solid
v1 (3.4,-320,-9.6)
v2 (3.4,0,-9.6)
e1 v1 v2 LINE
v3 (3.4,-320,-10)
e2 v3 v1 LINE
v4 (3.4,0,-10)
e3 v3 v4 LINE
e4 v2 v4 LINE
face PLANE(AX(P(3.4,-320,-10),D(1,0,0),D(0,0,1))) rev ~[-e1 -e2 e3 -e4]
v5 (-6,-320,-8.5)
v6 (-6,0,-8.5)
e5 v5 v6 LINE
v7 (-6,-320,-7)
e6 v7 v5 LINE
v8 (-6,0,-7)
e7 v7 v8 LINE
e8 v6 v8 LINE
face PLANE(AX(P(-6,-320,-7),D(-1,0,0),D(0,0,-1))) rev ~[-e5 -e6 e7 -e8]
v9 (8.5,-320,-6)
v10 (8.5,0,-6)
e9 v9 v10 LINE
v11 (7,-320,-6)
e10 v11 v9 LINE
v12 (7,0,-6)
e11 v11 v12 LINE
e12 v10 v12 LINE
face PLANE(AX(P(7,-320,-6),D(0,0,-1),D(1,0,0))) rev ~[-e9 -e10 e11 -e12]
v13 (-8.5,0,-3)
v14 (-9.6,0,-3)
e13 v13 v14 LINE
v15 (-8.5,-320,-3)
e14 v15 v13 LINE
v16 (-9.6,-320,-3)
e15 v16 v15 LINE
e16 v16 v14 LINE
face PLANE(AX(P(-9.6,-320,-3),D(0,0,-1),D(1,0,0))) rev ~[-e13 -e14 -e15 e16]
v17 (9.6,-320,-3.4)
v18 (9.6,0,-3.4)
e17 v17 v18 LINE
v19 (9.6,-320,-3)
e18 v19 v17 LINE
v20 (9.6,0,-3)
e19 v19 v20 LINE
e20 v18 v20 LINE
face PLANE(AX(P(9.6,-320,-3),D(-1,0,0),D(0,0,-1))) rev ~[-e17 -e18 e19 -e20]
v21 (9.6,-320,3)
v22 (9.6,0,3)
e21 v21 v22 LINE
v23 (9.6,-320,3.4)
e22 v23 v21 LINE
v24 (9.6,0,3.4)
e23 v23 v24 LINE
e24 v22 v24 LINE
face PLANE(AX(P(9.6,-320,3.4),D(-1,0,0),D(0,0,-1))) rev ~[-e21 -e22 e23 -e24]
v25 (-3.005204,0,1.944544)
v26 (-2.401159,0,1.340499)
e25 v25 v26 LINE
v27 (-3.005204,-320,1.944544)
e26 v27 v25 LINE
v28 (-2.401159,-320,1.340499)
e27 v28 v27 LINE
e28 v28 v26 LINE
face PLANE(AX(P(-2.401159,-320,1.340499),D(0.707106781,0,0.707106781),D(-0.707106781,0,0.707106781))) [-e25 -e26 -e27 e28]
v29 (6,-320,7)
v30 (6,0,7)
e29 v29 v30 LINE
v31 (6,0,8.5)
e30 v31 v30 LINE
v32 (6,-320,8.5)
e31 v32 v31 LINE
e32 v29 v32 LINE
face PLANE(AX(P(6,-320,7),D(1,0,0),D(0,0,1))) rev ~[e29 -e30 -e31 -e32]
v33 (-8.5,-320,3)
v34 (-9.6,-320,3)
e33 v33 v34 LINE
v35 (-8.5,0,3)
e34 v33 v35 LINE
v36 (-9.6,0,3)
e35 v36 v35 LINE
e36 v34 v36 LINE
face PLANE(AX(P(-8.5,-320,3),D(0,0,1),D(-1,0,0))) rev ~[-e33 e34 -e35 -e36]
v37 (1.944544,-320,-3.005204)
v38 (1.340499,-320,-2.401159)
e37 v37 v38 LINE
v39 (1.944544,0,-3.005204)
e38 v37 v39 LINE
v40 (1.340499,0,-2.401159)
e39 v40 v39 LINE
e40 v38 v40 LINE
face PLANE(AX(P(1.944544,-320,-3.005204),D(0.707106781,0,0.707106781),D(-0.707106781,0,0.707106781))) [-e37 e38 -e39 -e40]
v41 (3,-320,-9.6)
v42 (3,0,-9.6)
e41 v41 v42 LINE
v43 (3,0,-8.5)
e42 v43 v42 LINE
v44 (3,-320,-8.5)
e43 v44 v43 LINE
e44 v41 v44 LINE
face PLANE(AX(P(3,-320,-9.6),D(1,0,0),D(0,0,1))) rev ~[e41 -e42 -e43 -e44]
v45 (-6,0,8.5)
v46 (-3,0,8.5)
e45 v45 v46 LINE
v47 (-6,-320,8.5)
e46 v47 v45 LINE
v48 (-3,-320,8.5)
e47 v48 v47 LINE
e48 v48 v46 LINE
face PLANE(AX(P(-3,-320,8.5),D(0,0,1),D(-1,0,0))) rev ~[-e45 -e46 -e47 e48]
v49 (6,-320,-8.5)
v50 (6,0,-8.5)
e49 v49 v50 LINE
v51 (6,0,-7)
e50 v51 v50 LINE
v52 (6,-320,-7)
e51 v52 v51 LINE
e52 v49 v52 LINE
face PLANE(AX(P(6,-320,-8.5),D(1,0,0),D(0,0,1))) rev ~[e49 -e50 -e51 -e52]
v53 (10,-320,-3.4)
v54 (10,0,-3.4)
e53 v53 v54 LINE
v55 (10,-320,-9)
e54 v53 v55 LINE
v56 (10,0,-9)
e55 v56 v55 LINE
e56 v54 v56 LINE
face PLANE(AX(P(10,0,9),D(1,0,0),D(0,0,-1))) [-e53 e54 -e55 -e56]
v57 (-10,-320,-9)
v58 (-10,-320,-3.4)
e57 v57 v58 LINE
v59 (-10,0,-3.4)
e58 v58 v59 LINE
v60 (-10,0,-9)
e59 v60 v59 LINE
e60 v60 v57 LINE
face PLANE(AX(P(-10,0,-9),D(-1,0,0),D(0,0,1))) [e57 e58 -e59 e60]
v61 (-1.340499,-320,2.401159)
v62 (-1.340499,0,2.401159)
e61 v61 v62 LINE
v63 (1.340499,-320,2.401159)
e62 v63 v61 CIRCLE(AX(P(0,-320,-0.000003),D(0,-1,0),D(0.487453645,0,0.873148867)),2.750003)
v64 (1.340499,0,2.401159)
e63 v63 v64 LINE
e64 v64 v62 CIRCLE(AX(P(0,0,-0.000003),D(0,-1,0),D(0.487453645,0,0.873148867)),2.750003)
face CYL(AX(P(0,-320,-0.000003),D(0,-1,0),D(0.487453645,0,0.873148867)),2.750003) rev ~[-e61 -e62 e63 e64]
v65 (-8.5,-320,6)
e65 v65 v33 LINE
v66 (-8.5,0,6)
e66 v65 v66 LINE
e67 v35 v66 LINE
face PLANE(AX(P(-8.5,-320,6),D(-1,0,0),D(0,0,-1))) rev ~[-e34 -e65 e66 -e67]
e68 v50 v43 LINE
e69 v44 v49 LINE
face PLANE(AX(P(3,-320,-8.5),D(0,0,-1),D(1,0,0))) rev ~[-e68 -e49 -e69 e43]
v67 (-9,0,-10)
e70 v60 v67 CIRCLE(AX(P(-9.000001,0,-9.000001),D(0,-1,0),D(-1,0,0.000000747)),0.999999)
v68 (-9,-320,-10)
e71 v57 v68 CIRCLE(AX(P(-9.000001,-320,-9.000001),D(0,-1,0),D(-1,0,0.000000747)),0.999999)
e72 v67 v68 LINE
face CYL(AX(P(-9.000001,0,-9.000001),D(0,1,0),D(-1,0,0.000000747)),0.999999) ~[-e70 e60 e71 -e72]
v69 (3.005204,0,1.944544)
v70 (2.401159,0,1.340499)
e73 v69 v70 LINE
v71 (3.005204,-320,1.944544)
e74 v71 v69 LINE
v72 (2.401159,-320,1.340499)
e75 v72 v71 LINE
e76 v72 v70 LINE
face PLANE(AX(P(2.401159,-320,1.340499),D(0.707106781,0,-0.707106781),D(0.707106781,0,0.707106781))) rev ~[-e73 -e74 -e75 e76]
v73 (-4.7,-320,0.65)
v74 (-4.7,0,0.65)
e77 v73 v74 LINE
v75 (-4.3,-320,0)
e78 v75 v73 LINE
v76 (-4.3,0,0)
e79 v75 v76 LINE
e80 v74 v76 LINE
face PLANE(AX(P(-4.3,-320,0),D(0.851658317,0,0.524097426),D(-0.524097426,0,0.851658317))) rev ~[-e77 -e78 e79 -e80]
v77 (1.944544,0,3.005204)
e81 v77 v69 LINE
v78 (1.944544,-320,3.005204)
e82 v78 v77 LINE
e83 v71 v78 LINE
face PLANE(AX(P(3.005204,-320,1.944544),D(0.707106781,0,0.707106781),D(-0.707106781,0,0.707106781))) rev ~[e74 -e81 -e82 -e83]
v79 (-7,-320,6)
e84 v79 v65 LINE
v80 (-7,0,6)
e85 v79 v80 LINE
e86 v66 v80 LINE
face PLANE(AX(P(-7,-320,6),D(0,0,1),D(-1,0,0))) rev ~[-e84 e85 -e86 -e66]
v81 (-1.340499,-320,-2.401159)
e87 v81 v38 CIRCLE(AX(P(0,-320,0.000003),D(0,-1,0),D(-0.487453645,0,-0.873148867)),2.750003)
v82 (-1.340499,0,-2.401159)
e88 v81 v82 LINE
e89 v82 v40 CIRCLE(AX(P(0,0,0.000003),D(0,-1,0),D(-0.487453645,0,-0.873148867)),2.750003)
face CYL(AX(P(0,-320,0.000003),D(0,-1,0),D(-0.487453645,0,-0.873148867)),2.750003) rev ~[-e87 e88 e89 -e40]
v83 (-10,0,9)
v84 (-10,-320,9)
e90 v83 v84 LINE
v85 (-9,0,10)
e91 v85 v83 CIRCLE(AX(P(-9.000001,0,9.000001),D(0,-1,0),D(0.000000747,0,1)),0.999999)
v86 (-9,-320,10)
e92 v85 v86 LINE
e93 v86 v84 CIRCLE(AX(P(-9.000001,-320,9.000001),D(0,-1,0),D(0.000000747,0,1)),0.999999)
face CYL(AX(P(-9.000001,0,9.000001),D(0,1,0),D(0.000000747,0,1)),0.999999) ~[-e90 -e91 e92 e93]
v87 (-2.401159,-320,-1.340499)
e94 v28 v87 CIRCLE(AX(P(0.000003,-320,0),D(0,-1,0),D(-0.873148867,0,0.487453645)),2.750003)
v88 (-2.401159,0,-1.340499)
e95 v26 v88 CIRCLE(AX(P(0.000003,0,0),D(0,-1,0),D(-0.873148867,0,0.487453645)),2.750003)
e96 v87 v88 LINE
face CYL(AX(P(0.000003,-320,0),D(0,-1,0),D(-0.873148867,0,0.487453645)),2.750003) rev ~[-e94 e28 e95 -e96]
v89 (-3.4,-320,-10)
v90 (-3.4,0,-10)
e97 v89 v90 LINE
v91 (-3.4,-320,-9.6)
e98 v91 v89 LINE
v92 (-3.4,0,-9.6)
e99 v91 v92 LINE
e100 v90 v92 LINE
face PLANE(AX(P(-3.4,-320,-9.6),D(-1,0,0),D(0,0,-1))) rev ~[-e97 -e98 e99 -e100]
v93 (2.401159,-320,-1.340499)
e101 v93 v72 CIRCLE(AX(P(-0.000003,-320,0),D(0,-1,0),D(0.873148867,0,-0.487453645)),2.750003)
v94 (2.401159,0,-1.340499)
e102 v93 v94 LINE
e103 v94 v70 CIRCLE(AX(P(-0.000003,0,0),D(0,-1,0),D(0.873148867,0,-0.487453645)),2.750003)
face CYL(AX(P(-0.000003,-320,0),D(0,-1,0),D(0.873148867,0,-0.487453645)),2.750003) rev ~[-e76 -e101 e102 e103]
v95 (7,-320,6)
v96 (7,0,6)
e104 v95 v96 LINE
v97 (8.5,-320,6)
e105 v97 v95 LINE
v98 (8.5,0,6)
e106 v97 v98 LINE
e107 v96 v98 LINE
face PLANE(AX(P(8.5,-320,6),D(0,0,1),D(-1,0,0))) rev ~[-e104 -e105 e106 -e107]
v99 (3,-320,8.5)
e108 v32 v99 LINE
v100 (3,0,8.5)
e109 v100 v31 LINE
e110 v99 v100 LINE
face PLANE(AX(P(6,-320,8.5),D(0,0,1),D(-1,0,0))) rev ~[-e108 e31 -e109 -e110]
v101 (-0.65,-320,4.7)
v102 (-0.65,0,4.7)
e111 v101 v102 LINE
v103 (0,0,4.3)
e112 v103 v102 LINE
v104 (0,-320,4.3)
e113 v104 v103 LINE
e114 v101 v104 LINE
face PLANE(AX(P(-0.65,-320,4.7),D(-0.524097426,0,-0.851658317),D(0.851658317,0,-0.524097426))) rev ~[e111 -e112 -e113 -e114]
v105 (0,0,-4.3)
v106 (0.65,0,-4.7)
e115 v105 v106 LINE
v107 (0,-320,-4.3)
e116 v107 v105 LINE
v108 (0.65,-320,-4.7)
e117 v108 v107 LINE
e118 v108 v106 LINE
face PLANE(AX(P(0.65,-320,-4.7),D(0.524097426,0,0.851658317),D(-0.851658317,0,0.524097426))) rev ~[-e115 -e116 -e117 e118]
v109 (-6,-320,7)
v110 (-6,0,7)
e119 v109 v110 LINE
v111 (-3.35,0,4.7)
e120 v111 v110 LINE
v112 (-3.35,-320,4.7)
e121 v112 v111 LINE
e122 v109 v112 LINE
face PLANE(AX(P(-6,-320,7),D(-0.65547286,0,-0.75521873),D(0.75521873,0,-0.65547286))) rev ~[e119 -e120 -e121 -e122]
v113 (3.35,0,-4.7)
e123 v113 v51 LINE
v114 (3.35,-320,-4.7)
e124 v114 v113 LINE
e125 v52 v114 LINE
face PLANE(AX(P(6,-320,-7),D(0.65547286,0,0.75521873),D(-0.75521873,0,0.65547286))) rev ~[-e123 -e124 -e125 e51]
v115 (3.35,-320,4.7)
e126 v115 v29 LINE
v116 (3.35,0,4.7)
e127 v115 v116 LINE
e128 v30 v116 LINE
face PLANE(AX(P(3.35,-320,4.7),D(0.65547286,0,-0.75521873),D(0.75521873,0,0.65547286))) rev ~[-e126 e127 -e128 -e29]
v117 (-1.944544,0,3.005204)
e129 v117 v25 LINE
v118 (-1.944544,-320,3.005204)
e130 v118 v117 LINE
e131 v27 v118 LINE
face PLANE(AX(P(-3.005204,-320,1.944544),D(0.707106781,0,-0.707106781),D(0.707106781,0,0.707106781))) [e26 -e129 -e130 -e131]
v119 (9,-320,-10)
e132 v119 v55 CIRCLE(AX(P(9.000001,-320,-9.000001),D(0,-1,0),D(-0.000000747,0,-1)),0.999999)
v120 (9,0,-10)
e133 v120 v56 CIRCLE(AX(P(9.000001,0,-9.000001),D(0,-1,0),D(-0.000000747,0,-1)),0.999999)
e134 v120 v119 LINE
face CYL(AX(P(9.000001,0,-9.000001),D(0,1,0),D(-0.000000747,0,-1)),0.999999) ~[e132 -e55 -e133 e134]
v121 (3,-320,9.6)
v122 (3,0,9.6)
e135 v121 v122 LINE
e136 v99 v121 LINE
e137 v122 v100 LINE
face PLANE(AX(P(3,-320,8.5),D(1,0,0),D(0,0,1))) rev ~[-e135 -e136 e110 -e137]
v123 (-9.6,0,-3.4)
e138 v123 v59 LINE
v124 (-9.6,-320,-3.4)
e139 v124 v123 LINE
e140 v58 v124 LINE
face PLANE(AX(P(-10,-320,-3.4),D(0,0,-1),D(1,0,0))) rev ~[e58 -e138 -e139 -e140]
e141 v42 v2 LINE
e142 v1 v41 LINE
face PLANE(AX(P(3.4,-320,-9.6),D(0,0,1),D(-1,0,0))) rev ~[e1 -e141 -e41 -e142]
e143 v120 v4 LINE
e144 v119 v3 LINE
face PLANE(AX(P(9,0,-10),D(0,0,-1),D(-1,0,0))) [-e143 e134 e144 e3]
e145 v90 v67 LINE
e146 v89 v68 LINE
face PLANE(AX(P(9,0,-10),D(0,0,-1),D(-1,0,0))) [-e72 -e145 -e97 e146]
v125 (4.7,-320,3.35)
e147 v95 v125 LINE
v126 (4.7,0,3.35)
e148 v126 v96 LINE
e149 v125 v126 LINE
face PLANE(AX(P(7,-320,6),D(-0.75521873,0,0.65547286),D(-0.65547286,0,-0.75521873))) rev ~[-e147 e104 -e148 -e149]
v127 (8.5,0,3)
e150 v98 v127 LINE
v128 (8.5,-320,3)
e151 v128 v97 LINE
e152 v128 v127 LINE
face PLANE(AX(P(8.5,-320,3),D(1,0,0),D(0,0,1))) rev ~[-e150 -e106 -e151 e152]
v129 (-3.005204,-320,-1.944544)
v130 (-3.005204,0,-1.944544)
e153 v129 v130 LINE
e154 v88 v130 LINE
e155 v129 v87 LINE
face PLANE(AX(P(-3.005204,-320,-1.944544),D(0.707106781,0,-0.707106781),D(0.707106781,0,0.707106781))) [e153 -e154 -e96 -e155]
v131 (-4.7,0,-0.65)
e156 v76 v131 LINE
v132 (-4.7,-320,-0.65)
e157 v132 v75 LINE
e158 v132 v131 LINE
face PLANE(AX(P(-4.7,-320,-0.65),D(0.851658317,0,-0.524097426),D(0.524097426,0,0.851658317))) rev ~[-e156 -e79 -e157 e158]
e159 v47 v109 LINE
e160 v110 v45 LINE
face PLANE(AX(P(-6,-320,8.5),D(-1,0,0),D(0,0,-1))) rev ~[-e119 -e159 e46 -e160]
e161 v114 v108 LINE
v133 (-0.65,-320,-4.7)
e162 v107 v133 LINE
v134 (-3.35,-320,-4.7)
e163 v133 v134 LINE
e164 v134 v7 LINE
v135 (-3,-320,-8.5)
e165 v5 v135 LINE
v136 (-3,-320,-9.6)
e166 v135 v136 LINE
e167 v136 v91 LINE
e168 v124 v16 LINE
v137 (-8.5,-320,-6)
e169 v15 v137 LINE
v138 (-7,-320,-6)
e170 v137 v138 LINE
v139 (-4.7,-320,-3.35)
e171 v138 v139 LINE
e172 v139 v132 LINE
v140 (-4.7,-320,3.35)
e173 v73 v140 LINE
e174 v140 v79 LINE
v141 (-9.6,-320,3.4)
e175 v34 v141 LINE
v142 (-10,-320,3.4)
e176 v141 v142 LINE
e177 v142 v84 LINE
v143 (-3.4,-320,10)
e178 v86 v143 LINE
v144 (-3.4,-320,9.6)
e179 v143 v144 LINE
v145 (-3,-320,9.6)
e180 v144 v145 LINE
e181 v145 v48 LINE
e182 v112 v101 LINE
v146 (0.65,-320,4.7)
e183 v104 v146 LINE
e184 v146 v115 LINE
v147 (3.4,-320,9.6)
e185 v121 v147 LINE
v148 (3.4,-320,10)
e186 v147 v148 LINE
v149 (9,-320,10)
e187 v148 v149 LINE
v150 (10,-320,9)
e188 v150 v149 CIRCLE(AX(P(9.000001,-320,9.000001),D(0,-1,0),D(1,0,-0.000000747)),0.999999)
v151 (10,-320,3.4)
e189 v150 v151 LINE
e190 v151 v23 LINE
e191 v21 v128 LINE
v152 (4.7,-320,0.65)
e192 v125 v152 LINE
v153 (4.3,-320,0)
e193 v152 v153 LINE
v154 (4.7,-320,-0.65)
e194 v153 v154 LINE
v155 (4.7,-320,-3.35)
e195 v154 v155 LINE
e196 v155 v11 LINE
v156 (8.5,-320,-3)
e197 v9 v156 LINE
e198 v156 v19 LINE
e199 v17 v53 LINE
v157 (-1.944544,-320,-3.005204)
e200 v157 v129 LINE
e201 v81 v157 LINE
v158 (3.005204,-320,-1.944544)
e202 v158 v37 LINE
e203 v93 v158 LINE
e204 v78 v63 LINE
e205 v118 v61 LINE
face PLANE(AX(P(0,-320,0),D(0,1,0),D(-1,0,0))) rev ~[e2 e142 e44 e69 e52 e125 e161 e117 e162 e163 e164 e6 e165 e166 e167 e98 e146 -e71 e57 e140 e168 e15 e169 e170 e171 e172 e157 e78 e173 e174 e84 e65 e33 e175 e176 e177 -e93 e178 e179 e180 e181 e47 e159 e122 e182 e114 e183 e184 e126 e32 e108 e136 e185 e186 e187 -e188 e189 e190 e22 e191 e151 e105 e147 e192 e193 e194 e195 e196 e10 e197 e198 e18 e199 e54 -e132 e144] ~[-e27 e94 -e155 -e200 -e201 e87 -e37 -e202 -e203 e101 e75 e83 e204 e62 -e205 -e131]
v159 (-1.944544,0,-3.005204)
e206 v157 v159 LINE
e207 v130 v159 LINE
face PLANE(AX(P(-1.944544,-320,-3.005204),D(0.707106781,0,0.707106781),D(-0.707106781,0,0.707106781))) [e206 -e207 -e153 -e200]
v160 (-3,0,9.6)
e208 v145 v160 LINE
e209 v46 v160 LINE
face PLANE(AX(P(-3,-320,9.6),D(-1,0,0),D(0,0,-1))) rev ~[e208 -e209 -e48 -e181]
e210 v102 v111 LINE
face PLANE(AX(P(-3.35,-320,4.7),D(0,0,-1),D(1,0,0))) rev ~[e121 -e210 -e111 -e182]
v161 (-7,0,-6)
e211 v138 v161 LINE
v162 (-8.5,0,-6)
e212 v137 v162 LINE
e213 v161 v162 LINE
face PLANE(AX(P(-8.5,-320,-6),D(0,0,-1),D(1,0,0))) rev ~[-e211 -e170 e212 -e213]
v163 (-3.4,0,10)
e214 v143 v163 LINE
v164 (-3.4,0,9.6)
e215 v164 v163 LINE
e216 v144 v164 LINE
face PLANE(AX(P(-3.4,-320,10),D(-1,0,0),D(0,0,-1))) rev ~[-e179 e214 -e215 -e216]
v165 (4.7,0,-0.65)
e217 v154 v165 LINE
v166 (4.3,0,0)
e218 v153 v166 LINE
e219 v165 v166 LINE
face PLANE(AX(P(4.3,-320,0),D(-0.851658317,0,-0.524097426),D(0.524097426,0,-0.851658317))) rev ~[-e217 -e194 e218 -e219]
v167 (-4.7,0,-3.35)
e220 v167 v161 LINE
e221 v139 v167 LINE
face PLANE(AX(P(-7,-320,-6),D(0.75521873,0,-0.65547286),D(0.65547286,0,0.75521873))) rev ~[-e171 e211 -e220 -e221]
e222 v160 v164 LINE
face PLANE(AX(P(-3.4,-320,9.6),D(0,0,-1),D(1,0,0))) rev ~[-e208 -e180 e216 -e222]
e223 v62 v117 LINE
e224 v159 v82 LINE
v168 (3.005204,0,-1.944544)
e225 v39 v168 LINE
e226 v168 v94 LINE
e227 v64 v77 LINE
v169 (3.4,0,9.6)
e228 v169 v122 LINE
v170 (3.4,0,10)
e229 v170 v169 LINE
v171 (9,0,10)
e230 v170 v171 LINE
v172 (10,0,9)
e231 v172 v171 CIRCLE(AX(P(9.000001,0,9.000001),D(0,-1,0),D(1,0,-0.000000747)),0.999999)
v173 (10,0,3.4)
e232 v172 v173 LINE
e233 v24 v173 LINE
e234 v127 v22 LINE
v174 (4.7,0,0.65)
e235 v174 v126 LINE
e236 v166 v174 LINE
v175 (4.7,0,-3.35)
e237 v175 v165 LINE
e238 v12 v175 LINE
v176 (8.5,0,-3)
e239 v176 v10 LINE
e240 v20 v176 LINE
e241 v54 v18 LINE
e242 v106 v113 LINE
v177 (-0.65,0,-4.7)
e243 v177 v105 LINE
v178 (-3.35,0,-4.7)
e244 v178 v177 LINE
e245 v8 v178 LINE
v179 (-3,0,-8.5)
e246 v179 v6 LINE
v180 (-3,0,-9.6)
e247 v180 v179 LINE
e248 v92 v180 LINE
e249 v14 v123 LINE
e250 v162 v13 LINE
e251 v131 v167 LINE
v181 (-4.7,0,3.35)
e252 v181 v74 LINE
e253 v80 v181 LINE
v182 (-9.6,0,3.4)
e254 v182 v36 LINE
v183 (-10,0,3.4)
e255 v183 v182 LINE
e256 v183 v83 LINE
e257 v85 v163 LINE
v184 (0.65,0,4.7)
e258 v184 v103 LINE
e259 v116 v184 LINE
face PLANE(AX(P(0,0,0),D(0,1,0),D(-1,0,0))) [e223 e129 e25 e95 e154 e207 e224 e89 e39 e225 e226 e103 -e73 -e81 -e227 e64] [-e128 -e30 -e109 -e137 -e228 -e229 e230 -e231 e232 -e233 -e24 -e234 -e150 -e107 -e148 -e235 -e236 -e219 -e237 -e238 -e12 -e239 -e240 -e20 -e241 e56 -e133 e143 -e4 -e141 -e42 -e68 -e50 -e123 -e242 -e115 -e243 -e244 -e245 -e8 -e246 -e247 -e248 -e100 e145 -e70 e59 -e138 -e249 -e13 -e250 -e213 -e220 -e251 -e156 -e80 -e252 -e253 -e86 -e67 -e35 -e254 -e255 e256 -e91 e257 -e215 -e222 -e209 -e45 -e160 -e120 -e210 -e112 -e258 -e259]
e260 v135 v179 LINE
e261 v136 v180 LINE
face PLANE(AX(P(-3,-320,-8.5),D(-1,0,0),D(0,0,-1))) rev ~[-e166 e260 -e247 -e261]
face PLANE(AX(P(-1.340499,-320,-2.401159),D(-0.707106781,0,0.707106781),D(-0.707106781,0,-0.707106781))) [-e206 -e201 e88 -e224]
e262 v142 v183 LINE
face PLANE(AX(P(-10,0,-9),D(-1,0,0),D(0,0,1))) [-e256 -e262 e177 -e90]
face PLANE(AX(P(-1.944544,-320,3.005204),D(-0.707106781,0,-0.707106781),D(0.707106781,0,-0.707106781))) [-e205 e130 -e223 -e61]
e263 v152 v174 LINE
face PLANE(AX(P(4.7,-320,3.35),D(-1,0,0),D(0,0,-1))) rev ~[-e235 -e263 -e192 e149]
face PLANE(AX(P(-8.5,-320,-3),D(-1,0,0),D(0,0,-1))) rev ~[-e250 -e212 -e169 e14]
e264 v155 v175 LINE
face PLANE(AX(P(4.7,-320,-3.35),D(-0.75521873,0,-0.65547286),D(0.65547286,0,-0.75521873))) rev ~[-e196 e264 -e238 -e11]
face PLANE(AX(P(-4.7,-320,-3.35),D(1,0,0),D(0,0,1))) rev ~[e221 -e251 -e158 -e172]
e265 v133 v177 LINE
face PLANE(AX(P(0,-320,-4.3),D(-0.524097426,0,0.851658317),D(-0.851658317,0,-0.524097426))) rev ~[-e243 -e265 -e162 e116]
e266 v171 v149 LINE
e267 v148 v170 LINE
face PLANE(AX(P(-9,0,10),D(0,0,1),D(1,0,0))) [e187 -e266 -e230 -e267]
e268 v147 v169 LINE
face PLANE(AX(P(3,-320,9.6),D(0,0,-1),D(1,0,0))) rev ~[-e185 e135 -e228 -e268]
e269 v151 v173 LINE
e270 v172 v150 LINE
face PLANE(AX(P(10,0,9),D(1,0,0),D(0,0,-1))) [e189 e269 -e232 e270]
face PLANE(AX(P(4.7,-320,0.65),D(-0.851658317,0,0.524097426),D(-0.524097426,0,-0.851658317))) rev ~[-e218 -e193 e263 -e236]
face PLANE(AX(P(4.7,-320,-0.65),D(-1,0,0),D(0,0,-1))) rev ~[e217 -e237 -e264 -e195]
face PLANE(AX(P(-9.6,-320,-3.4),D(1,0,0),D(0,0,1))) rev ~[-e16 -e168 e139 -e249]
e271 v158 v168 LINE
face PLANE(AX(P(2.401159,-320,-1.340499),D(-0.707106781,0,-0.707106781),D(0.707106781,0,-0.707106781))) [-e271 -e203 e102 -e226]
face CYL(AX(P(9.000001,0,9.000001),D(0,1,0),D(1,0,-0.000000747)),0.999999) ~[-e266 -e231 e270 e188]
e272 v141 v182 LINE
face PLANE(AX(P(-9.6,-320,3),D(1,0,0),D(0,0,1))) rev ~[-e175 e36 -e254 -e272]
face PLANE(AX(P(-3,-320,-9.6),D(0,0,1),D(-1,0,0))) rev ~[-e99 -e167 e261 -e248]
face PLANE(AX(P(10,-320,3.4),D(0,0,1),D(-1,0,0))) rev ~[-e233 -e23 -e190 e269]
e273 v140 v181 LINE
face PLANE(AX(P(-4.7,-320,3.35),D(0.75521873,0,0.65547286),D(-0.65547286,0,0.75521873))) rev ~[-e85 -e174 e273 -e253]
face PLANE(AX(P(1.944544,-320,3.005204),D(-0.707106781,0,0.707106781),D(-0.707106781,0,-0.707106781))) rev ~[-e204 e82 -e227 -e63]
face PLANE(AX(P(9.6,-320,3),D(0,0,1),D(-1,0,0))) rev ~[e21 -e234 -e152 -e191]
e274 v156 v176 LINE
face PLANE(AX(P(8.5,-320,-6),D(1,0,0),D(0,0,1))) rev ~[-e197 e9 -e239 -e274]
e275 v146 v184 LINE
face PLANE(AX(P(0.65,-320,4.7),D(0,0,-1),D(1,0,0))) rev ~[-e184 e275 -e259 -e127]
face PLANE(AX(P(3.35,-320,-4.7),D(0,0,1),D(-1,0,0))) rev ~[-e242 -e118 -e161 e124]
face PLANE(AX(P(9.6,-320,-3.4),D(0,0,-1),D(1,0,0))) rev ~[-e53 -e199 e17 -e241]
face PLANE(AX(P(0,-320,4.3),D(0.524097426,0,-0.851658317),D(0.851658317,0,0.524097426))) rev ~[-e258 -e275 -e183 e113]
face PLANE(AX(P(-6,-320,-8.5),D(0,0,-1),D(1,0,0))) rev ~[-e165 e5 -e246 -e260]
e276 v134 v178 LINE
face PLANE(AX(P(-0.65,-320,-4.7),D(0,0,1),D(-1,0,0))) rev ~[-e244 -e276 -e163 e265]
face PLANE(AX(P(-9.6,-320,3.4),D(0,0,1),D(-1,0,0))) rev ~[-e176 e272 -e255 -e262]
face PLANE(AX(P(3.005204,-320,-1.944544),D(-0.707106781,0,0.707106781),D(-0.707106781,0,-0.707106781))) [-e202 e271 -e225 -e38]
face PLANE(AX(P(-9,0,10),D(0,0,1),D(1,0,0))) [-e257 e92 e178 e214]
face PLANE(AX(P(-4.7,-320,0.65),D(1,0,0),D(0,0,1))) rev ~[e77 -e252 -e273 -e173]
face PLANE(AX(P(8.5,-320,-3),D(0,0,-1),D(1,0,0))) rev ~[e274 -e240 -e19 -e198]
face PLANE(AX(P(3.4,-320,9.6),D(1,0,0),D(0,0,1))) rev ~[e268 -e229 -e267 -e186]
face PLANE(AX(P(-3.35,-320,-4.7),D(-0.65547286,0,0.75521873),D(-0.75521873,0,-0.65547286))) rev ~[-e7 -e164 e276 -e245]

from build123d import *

# Parameters (mm, degrees)
PAD_DEPTH          = 320
POCKET_DEPTH       = 380
POLARPATTERN_COUNT = 4
POCKET001_DEPTH    = 380


with BuildPart() as part:
    # Sketch → Pad (new body)
    with BuildSketch(Plane.XZ):
        with BuildLine():
            Line((-9, 10), (9, 10))
            ThreePointArc((10, 9), (9.707107, 9.707107), (9, 10))
            Line((10, 9), (10, -9))
            ThreePointArc((9, -10), (9.707107, -9.707107), (10, -9))
            Line((9, -10), (-9, -10))
            ThreePointArc((-10, -9), (-9.707107, -9.707107), (-9, -10))
            Line((-10, -9), (-10, 9))
            ThreePointArc((-9, 10), (-9.707107, 9.707107), (-10, 9))
        make_face()
    extrude(amount=PAD_DEPTH)

    # Sketch001 (on Face10 of Pad) → Pocket (cut)
    with BuildSketch(Plane.XZ.offset(320)):
        Polygon((-3.4, 10), (-3.4, 9.6), (-3, 9.6), (-3, 8.5), (-6, 8.5), (-6, 7), (-3.35, 4.7), (-0.65, 4.7), (0, 4.3), (0.65, 4.7), (3.35, 4.7), (6, 7), (6, 8.5), (3, 8.5), (3, 9.6), (3.4, 9.6), (3.4, 10), align=None)
    pocket = extrude(amount=-POCKET_DEPTH, mode=Mode.SUBTRACT)

    # PolarPattern: Pocket ×4 about axis
    polarpattern_axis = Axis((0, -320, 0), (0, -1, 0))
    for i in range(1, POLARPATTERN_COUNT):
        add(pocket.rotate(polarpattern_axis, i * 360 / POLARPATTERN_COUNT), mode=Mode.SUBTRACT)

    # Sketch002 (on Face4 of PolarPattern) → Pocket001 (cut)
    with BuildSketch(Plane.XZ.offset(320)):
        with BuildLine():
            ThreePointArc((1.340499, 2.401159), (0, 2.75), (-1.340499, 2.401159))
            Line((-1.944544, 3.005204), (-1.340499, 2.401159))
            Line((-3.005204, 1.944544), (-1.944544, 3.005204))
            Line((-2.401159, 1.340499), (-3.005204, 1.944544))
            ThreePointArc((-2.401159, 1.340499), (-2.75, 0), (-2.401159, -1.340499))
            Line((-3.005204, -1.944544), (-2.401159, -1.340499))
            Line((-1.944544, -3.005204), (-3.005204, -1.944544))
            Line((-1.340499, -2.401159), (-1.944544, -3.005204))
            ThreePointArc((-1.340499, -2.401159), (0, -2.75), (1.340499, -2.401159))
            Line((1.944544, -3.005204), (1.340499, -2.401159))
            Line((3.005204, -1.944544), (1.944544, -3.005204))
            Line((2.401159, -1.340499), (3.005204, -1.944544))
            ThreePointArc((2.401159, -1.340499), (2.75, 0), (2.401159, 1.340499))
            Line((2.401159, 1.340499), (3.005204, 1.944544))
            Line((3.005204, 1.944544), (1.944544, 3.005204))
            Line((1.944544, 3.005204), (1.340499, 2.401159))
        make_face()
    extrude(amount=-POCKET001_DEPTH, mode=Mode.SUBTRACT)


solid = part.part
